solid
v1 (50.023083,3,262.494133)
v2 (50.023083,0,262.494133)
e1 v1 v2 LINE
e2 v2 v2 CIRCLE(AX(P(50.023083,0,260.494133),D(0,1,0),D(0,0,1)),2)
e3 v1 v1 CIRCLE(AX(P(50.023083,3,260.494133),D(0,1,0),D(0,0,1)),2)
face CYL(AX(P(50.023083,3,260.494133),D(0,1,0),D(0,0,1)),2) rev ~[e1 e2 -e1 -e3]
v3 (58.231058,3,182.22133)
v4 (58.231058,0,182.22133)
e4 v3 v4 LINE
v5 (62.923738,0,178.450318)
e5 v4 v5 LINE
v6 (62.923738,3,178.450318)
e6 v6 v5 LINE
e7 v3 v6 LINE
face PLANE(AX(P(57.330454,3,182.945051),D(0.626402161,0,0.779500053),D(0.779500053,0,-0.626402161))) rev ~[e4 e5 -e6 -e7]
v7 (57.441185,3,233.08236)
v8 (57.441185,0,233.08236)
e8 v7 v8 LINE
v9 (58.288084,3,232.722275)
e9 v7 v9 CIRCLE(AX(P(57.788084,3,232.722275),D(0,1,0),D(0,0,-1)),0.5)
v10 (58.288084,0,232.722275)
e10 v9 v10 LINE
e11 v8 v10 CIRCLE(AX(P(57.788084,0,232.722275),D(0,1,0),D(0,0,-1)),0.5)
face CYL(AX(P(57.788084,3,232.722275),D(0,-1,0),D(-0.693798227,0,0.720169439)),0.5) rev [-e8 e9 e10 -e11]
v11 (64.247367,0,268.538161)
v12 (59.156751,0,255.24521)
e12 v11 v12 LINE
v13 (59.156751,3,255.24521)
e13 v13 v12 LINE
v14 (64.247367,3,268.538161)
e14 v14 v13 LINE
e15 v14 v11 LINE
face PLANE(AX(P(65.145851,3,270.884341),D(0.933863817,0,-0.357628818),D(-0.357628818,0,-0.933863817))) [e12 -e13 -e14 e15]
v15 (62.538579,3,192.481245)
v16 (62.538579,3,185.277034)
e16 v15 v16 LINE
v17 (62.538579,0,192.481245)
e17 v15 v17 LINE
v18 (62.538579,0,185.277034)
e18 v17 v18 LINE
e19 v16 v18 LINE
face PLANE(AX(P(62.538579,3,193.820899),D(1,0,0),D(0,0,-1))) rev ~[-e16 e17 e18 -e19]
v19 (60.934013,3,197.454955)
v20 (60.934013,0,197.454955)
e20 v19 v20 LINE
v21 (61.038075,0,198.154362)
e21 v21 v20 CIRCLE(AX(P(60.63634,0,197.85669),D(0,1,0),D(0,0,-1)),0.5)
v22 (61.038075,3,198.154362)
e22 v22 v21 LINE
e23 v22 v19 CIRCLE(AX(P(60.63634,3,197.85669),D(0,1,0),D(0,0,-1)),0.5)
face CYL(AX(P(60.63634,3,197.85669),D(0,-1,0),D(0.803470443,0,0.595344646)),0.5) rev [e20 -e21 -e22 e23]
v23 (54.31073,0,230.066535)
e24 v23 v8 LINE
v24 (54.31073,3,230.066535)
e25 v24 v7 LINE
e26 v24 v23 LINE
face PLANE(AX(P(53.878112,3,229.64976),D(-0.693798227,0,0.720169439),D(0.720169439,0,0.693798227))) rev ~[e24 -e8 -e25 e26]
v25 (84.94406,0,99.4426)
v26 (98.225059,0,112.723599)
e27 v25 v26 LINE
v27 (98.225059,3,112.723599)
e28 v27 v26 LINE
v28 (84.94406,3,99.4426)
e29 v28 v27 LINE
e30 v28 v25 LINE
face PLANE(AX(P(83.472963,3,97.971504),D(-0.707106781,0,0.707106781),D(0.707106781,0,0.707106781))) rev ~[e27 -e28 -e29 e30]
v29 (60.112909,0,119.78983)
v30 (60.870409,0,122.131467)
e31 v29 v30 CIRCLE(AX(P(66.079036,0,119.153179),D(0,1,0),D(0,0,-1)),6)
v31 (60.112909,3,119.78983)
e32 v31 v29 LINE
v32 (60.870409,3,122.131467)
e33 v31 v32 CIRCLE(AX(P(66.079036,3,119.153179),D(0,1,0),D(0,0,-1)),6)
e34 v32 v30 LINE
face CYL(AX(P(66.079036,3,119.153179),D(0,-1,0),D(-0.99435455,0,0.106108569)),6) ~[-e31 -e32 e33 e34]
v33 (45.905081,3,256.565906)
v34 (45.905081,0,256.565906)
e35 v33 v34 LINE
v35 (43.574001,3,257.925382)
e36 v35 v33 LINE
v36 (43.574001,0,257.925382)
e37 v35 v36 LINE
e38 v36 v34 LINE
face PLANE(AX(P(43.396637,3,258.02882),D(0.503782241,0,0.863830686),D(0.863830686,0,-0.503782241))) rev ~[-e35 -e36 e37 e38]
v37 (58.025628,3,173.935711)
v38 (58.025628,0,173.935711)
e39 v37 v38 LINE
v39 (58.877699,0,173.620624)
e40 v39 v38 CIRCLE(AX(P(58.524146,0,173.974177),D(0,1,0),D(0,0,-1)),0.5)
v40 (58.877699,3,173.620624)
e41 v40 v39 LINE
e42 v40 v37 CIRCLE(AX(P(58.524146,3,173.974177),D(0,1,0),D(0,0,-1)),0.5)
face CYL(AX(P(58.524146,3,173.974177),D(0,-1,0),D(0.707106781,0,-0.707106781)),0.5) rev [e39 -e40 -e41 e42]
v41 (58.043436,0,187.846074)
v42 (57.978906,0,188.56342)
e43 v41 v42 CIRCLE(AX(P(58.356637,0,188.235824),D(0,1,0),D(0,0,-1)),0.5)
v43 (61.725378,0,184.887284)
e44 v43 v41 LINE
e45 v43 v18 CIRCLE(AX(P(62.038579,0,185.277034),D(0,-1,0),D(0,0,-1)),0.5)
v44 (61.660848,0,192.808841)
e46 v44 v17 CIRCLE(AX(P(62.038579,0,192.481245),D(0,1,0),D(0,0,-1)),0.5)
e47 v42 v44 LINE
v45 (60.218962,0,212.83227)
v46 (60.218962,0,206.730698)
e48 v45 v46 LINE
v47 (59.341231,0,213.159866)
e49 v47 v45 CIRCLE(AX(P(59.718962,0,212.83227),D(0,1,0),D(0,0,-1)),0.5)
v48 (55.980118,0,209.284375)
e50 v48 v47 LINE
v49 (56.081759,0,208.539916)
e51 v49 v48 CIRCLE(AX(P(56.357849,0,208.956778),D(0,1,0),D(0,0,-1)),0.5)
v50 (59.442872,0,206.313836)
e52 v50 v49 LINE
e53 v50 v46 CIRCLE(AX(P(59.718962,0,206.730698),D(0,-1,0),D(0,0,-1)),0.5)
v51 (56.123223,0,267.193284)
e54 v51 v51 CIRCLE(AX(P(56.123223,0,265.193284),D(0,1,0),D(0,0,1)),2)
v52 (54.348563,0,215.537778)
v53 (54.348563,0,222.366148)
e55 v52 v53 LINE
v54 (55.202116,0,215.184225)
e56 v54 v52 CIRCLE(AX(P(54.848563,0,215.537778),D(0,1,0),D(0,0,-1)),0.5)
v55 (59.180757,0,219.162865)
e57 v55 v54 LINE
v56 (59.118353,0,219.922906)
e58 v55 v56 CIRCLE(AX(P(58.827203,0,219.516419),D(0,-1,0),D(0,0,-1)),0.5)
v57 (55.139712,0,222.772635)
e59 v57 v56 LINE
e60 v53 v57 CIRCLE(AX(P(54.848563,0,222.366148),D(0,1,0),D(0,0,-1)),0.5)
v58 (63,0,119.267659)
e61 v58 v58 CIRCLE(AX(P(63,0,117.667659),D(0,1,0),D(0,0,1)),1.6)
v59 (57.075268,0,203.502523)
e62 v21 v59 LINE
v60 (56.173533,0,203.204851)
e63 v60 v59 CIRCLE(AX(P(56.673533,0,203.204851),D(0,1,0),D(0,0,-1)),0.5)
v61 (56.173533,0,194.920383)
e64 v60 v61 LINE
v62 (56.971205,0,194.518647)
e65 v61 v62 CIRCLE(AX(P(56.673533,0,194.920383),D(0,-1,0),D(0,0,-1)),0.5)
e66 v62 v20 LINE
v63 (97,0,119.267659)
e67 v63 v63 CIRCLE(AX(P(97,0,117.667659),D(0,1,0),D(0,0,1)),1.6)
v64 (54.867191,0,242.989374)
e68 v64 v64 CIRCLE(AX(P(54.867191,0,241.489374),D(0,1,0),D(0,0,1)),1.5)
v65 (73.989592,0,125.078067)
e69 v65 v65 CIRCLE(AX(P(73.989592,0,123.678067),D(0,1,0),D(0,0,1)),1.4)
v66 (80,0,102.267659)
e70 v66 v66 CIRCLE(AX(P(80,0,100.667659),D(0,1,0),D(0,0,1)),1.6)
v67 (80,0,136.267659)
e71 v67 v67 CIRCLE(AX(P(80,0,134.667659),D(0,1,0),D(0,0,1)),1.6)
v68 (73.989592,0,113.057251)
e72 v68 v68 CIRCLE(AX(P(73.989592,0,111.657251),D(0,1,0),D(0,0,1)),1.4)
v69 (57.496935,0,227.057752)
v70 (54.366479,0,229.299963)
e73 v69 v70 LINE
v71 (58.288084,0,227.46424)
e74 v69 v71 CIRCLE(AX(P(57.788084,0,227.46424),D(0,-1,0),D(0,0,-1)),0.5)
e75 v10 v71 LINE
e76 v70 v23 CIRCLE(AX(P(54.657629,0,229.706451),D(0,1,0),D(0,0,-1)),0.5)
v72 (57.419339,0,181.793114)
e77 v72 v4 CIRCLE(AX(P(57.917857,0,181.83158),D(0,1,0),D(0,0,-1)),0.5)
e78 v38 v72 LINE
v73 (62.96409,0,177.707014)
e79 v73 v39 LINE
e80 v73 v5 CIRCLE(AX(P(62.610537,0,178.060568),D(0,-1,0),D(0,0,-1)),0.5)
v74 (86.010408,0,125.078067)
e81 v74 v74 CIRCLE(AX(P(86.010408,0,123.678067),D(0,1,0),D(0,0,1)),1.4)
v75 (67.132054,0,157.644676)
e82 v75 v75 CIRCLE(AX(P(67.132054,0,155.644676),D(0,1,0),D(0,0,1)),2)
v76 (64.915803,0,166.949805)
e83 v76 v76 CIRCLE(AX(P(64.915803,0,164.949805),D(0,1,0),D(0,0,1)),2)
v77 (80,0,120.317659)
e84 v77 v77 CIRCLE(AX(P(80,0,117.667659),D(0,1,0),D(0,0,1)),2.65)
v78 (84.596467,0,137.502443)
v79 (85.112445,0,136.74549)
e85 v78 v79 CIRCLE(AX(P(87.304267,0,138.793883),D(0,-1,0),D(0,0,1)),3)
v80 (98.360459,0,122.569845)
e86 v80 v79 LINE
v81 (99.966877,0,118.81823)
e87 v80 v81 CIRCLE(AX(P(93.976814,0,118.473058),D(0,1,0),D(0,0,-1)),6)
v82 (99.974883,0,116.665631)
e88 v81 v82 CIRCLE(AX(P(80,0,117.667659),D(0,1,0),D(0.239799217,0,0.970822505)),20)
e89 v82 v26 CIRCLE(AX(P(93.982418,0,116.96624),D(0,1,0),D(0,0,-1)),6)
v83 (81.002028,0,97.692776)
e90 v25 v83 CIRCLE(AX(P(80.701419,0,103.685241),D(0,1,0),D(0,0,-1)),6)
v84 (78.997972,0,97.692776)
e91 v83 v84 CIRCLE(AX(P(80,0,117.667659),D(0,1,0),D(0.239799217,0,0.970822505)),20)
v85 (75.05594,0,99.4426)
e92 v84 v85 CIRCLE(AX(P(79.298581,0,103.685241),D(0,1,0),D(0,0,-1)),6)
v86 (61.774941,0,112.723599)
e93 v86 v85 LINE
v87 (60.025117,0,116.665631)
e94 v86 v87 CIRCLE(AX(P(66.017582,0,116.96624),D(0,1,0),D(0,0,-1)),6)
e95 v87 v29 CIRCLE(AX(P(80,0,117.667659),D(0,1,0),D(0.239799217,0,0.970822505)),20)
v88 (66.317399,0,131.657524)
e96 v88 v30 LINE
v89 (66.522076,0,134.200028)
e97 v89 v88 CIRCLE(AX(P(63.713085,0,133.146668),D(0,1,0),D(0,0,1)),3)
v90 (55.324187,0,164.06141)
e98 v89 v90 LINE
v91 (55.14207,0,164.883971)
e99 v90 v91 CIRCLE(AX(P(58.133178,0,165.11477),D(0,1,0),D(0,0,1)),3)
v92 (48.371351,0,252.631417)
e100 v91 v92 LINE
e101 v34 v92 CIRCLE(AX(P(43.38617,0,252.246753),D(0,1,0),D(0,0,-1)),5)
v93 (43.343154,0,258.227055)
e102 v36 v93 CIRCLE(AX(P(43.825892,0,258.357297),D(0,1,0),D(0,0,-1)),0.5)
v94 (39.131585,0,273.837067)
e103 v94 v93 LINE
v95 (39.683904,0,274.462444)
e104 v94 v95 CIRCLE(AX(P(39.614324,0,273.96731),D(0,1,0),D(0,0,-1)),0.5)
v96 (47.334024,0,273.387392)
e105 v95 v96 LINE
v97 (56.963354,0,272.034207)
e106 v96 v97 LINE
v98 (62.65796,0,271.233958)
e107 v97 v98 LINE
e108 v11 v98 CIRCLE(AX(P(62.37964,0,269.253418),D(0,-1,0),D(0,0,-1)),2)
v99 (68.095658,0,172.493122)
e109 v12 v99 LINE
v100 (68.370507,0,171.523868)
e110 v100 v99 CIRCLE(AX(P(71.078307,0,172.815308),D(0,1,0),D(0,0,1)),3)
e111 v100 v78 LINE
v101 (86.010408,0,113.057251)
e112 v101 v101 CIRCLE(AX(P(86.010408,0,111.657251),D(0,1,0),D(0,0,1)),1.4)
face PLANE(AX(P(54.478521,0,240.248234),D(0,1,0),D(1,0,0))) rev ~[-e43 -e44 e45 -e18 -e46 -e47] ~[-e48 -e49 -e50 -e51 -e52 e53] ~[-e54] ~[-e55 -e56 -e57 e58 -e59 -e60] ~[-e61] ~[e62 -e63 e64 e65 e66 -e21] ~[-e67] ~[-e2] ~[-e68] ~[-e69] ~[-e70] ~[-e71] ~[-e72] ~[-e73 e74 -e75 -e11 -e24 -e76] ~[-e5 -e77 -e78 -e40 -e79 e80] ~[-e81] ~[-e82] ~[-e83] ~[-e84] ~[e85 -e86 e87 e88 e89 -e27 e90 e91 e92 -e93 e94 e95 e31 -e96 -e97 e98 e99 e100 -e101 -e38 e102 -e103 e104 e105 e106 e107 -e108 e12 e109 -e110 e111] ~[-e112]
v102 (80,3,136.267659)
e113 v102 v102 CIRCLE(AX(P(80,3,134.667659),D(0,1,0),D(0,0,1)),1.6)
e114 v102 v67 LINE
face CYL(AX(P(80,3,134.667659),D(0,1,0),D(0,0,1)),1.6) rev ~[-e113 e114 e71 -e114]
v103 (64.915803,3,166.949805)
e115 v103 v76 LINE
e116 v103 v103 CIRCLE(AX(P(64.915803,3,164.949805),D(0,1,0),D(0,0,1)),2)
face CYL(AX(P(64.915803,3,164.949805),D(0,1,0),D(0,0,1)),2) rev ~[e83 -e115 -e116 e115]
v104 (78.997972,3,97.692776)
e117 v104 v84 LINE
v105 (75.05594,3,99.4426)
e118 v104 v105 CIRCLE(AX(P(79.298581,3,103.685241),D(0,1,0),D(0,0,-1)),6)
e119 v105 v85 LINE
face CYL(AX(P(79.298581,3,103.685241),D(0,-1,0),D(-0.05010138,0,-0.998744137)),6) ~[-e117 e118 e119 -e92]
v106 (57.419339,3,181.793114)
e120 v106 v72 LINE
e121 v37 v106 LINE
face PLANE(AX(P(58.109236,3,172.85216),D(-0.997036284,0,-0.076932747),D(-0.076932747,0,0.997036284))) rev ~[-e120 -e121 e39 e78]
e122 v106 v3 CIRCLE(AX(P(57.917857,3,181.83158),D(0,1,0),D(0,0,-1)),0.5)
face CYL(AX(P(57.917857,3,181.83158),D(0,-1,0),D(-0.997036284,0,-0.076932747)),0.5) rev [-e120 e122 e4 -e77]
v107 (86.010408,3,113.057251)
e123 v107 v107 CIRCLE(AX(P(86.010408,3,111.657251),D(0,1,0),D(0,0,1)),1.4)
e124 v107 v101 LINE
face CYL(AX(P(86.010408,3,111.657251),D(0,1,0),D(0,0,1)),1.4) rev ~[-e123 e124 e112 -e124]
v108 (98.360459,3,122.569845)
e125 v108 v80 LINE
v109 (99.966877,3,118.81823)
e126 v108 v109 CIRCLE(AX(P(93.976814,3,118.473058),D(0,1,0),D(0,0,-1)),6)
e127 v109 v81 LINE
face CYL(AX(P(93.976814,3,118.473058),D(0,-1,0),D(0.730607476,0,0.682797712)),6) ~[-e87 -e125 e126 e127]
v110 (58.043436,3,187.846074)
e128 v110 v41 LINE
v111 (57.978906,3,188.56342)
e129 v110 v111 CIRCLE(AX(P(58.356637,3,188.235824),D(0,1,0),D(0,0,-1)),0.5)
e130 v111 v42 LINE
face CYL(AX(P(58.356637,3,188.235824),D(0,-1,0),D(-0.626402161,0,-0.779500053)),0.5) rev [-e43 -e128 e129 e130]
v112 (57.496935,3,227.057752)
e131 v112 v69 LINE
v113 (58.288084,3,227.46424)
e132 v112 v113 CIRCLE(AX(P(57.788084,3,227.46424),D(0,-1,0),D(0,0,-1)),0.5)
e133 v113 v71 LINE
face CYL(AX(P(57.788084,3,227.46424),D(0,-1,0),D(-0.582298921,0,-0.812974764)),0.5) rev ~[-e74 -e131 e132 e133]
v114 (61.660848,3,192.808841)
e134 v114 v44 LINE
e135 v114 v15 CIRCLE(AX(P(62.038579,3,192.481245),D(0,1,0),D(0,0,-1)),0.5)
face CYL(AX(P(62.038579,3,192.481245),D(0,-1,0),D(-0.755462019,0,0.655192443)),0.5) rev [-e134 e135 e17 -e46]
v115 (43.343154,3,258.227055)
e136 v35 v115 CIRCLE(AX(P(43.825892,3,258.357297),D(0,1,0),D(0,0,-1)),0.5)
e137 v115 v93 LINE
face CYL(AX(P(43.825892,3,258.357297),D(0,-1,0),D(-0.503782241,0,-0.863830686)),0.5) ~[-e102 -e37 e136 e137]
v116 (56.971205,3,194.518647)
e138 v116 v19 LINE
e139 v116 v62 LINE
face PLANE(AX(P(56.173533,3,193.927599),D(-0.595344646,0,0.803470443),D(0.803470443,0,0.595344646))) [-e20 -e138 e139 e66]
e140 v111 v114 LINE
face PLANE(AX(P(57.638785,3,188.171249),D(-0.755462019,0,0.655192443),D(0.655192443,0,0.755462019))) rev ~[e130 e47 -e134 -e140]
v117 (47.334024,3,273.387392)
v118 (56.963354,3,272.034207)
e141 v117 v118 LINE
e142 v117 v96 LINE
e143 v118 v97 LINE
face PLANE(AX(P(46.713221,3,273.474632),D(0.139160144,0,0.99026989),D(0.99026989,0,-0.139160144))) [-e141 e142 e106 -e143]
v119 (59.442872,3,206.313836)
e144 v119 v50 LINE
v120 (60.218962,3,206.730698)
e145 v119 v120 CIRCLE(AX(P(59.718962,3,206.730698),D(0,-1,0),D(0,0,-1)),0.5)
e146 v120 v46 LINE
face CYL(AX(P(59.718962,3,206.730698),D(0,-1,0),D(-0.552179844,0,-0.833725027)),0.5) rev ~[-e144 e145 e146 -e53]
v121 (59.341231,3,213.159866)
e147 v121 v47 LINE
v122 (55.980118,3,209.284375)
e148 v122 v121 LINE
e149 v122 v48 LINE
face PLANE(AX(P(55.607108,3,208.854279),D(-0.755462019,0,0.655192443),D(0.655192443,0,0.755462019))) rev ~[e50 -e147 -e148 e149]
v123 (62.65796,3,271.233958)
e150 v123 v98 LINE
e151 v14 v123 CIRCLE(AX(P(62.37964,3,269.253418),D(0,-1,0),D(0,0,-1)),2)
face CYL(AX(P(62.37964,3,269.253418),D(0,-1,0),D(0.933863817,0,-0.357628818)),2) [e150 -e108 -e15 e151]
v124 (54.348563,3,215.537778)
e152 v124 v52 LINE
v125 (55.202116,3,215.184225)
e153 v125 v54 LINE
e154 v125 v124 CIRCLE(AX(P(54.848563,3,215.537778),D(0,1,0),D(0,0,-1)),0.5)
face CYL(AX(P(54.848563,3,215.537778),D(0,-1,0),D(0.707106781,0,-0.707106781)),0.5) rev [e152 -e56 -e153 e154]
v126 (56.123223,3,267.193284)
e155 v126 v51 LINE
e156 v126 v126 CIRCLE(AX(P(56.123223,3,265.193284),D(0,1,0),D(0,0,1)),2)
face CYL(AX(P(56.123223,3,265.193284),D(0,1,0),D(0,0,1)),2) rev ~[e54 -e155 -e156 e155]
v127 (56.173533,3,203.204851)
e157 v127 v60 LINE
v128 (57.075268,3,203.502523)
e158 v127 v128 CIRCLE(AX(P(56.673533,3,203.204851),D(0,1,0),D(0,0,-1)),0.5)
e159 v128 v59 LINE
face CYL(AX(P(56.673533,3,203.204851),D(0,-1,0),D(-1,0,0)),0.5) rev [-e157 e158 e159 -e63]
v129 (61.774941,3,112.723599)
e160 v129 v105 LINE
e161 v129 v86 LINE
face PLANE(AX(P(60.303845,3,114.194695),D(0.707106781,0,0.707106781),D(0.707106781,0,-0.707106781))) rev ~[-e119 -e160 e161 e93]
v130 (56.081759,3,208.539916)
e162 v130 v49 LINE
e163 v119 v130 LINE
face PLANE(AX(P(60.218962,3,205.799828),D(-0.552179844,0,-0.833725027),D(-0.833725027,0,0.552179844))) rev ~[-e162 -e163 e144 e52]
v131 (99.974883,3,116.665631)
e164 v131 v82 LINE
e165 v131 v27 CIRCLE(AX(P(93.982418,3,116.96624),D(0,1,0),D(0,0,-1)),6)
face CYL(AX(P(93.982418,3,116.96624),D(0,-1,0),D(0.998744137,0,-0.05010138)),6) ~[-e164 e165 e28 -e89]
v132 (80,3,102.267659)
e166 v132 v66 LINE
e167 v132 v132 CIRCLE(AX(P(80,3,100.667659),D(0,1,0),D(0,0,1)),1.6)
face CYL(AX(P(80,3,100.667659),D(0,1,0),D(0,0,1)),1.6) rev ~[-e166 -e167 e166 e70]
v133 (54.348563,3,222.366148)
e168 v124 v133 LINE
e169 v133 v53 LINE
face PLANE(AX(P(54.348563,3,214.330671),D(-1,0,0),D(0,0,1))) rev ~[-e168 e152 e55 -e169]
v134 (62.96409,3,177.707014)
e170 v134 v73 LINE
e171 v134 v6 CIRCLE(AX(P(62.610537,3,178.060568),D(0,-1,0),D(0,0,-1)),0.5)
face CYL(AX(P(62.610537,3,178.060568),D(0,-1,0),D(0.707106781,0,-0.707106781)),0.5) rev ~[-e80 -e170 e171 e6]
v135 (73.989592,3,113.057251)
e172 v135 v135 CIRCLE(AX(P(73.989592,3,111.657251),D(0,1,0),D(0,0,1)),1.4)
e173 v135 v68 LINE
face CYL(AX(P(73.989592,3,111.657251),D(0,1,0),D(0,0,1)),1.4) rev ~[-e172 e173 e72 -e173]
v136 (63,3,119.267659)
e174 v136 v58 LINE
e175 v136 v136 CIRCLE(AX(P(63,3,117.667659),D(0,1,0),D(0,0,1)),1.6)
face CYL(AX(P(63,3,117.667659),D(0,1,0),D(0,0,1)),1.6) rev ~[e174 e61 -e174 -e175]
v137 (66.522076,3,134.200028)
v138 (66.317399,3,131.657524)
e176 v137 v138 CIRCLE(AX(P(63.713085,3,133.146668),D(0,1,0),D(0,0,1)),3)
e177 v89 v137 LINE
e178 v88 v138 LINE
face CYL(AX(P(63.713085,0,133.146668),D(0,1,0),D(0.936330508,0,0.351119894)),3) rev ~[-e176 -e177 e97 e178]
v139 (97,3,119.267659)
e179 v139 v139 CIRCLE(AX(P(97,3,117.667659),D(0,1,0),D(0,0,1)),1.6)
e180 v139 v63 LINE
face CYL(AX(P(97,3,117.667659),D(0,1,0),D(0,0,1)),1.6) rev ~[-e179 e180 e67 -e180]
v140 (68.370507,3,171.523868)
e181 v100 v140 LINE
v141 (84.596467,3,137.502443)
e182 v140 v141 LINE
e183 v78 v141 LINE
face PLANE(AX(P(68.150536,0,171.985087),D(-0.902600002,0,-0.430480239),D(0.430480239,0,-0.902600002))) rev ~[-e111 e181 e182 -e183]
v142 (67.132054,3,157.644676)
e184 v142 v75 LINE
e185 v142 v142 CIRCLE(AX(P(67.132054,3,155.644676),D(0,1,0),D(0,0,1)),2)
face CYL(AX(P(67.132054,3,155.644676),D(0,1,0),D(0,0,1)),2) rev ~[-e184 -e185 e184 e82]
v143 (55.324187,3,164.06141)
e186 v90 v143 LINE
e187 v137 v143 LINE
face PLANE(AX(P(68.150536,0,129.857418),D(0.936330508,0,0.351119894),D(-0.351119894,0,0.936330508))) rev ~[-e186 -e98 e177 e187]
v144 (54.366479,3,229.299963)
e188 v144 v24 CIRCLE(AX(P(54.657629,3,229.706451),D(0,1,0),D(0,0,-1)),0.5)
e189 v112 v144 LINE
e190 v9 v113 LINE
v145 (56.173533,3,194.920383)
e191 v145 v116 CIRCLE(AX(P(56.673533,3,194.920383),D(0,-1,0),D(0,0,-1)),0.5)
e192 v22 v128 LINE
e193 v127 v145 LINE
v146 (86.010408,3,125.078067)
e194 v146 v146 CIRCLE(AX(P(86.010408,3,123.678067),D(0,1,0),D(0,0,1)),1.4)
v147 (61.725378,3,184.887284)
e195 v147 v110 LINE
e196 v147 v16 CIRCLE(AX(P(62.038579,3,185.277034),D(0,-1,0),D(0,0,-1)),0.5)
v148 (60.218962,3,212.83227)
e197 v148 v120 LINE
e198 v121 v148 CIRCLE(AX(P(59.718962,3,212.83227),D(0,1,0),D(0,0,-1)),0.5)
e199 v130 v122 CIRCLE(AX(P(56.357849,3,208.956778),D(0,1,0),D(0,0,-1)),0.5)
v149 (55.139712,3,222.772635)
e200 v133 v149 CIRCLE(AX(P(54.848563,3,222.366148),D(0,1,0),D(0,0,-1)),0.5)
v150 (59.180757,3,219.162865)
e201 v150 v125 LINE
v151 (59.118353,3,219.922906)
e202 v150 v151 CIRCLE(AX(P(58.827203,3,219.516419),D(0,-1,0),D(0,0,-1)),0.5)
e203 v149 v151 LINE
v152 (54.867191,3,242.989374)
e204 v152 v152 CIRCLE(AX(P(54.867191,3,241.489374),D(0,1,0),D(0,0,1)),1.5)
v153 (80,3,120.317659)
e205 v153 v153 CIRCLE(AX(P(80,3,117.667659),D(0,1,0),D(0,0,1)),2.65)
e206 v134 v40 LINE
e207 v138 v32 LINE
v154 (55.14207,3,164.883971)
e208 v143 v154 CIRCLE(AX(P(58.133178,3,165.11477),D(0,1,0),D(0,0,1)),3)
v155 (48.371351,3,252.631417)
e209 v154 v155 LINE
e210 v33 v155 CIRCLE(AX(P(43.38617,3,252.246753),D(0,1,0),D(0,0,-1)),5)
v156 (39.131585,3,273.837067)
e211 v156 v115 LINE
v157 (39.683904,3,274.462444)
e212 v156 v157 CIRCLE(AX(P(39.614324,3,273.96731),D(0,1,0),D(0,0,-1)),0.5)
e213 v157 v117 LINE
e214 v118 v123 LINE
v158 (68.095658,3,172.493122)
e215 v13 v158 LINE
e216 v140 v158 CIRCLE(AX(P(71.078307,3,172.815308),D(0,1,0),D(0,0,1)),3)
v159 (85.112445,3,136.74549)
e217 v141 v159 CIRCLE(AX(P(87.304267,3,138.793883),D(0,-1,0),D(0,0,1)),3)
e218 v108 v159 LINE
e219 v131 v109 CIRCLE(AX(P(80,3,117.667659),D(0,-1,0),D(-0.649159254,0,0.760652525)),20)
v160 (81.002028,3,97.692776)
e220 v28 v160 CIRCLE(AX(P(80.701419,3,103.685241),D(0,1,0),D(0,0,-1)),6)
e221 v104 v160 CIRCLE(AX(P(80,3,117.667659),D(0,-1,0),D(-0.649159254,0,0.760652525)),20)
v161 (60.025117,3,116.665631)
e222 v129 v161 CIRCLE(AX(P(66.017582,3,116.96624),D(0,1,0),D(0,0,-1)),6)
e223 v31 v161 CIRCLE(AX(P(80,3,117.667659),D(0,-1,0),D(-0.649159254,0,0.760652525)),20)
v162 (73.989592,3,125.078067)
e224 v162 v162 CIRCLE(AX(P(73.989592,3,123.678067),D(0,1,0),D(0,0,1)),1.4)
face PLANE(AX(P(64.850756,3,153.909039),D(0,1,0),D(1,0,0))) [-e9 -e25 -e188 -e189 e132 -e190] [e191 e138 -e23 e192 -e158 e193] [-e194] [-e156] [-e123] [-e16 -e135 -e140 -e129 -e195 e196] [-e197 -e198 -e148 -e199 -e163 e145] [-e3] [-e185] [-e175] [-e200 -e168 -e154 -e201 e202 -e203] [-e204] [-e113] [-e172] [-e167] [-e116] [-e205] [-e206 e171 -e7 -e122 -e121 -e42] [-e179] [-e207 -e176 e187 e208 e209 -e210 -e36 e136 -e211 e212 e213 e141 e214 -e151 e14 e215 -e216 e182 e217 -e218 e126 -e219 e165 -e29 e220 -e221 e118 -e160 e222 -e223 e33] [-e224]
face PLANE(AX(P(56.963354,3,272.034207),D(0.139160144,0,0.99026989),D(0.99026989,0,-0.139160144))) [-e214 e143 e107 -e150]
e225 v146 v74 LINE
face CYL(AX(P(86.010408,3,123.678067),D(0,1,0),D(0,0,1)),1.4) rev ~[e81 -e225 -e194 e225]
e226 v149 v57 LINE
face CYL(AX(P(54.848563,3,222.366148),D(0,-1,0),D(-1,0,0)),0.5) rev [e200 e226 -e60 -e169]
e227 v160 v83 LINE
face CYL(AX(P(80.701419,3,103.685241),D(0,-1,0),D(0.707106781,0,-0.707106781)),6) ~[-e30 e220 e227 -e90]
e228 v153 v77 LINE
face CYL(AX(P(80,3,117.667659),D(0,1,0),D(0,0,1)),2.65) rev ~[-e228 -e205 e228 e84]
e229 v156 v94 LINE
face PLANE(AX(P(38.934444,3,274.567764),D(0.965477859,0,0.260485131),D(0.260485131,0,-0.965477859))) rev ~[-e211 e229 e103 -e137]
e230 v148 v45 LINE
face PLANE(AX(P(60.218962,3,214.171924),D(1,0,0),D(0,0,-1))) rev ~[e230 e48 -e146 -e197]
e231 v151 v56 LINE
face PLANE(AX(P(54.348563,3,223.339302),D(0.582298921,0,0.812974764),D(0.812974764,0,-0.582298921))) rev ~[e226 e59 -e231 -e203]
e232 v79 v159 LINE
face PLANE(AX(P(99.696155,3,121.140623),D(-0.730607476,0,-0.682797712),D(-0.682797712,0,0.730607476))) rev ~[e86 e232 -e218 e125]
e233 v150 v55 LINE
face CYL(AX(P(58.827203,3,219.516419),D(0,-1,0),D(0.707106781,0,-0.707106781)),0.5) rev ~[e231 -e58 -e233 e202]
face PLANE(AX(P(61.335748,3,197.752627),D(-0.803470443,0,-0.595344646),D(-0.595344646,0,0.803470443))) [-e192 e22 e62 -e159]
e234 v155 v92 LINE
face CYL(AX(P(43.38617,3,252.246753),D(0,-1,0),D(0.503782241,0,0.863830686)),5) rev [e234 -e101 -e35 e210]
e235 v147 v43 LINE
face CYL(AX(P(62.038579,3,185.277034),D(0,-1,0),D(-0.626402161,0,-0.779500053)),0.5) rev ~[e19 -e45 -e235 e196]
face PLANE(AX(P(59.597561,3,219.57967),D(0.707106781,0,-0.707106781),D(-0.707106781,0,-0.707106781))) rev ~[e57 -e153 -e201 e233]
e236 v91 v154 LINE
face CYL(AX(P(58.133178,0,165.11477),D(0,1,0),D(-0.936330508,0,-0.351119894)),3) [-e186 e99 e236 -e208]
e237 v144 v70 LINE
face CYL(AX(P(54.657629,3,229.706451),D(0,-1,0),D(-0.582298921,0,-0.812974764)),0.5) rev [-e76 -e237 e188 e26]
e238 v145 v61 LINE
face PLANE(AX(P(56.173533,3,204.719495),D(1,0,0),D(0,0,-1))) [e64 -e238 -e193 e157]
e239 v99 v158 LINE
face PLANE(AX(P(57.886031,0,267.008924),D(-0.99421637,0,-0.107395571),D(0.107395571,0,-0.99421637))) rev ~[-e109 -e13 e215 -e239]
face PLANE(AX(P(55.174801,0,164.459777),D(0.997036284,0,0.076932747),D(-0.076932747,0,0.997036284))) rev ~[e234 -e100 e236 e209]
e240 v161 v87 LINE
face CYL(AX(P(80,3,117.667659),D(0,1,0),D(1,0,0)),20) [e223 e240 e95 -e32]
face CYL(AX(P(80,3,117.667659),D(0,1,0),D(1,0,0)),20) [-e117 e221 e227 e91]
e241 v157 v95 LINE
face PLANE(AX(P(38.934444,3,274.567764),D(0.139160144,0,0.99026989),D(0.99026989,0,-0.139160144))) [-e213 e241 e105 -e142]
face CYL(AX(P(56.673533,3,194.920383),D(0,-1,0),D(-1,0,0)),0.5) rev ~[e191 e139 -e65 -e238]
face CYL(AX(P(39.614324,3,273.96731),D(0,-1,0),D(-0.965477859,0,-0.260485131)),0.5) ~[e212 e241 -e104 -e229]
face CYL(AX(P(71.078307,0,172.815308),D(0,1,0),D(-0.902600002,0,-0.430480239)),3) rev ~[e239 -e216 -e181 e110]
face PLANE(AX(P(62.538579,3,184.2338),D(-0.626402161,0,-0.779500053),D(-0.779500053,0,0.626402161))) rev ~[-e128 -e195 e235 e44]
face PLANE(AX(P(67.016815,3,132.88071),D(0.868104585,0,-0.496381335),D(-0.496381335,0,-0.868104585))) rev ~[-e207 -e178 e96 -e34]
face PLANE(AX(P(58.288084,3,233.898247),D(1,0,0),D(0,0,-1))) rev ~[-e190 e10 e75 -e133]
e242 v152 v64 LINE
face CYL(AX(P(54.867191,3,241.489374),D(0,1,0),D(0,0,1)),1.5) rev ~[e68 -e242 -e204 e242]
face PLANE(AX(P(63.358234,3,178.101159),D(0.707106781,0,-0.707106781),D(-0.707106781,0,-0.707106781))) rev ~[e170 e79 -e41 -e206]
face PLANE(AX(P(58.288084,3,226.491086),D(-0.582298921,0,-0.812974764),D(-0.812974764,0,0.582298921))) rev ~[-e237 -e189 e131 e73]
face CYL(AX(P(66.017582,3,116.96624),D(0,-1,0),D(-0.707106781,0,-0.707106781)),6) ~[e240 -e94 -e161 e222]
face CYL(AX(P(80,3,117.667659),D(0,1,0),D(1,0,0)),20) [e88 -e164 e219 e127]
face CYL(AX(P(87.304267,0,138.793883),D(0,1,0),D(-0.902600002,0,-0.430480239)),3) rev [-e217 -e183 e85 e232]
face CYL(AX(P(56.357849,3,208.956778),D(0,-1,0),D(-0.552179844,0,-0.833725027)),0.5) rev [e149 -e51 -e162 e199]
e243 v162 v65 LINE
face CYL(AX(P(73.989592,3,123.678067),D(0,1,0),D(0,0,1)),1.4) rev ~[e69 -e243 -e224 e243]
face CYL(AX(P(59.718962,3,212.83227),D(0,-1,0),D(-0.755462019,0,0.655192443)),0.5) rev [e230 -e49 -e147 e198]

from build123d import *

# Parameters (mm, degrees)
SKETCH_1_R            = 17
EXTRUDE_1_DEPTH       = 3
SKETCH_2_R            = 20
EXTRUDE_2_DEPTH       = 3
CUT_EXTRUDE_2_DEPTH   = 10
FILLET_1_R            = 3
FILLET_2_R            = 6
SKETCH_5_R            = 2.25
CUT_EXTRUDE_6_DEPTH   = 10
SKETCH_6_R            = 14.05
CUT_EXTRUDE_7_DEPTH   = 10
SKETCH_4_R            = 1.5
CUT_EXTRUDE_8_DEPTH   = 10
EXTRUDE_3_DEPTH       = 3
EXTRUDE_4_DEPTH       = 3
CUT_EXTRUDE_19_DEPTH  = 10
FILLET_3_R            = 0.5
CUT_EXTRUDE_20_DEPTH  = 10
SKETCH_39_R           = 1.65
CUT_EXTRUDE_32_DEPTH  = 10
SKETCH_40_R           = 1.65
SKETCH_40_R_2         = 1.6
EXTRUDE_5_DEPTH       = 3
SKETCH_108_R          = 2.1
CUT_EXTRUDE_99_DEPTH  = 313.834538804
SKETCH_130_R          = 14.05
SKETCH_130_R_2        = 2.65
EXTRUDE_7_DEPTH       = 3
SKETCH_131_R          = 1.5
CUT_EXTRUDE_122_DEPTH = 10
EXTRUDE_9_DEPTH       = 3
SKETCH_133_R          = 2.6
CUT_EXTRUDE_125_DEPTH = 292.199887495
SKETCH_134_R          = 1.5
SKETCH_134_R_2        = 1.4
EXTRUDE_10_DEPTH      = 3
EXTRUDE_11_DEPTH      = 3
SKETCH_137_W          = 2
SKETCH_137_H          = 3
CUT_EXTRUDE_126_DEPTH = 3
SKETCH_138_R          = 2.6
EXTRUDE_12_DEPTH      = 3
SKETCH_139_R          = 2.5
CUT_EXTRUDE_127_DEPTH = 5
SKETCH_140_R          = 2.5
EXTRUDE_13_DEPTH      = 3
SKETCH_141_R          = 2.5
CUT_EXTRUDE_128_DEPTH = 5
FILLET_4_R            = 0.5
SKETCH_143_W          = 2
SKETCH_143_H          = 3
EXTRUDE_14_DEPTH      = 4
SKETCH_144_R          = 2
CUT_EXTRUDE_129_DEPTH = 4
SKETCH_145_R          = 2.1
EXTRUDE_15_DEPTH      = 3
FILLET_6_R            = 2
EXTRUDE_16_DEPTH      = 3
FILLET_7_R            = 5
FILLET_8_R            = 0.5
SKETCH_147_R          = 2.1
EXTRUDE_17_DEPTH      = 3
SKETCH_148_R          = 2
CUT_EXTRUDE_130_DEPTH = 6
EXTRUDE_18_DEPTH      = 3
SKETCH_150_R          = 2
CUT_EXTRUDE_131_DEPTH = 10
EXTRUDE_START         = -3
SKETCH_151_R          = 2.5
EXTRUDE_19_DEPTH      = 3
EXTRUDE_20_DEPTH      = 3
SKETCH_159_R          = 1.5
CUT_EXTRUDE_138_DEPTH = 329.706278544


with BuildPart() as part:
    # 草图1 → 凸台-拉伸1 (new body)
    with BuildSketch(Plane(origin=(0, 0, 0), x_dir=(1, 0, 0), z_dir=(0, 1, 0))):
        with BuildLine():
            Line((55.174801085, -164.459776844), (68.150536307, -171.985087167))
            Line((68.150536307, -171.985087167), (86.580547938, -133.34236439))
            ThreePointArc((86.580547938, -133.34236439), (76.841427209, -134.371653113), (68.150536307, -129.857417501))
            Line((68.150536307, -129.857417501), (55.174801085, -164.459776844))
        make_face()
        Polygon((68.150536307, -171.985087167), (55.174801085, -164.459776844), (47.261962171, -267.008923523), (57.886031057, -267.008923523), align=None)
        with Locations((79.999999942, -117.667659031)):
            Circle(SKETCH_1_R)
    extrude(amount=EXTRUDE_1_DEPTH)

    # 草图2 → 凸台-拉伸2 (add)
    with BuildSketch(Plane(origin=(0, 3, 0), x_dir=(1, 0, 0), z_dir=(0, 1, 0))):
        with Locations((79.999999942, -117.667659031)):
            Circle(SKETCH_2_R)
    extrude(amount=-EXTRUDE_2_DEPTH)

    # 草图3 → 切除-拉伸2 (cut)
    with BuildSketch(Plane(origin=(0, 3, 0), x_dir=(1, 0, 0), z_dir=(0, 1, 0))):
        with BuildLine():
            ThreePointArc((84.795984272, -137.084109127), (94.612149468, -131.323613273), (99.696155003, -121.140622585))
            Line((99.696155003, -121.140622585), (84.795984272, -137.084109127))
        make_face()
        with BuildLine():
            Line((83.472963496, -97.971503971), (99.696155003, -114.194695478))
            ThreePointArc((99.696155003, -114.194695478), (94.142135566, -103.525523408), (83.472963496, -97.971503971))
        make_face()
        with BuildLine():
            Line((60.303844882, -114.194695478), (76.527036389, -97.971503971))
            ThreePointArc((76.527036389, -97.971503971), (65.857864319, -103.525523408), (60.303844882, -114.194695478))
        make_face()
        with BuildLine():
            Line((67.016814864, -132.880709522), (60.303844882, -121.140622585))
            ThreePointArc((60.303844882, -121.140622585), (62.637908239, -127.595285722), (67.016814864, -132.880709522))
        make_face()
    extrude(amount=-CUT_EXTRUDE_2_DEPTH, mode=Mode.SUBTRACT)

    # 圆角1
    fillet_1_edges = [part.edges().sort_by_distance(p)[0] for p in [
        (68.150536307, 1.5, 171.985087167),
        (55.174801085, 1.5, 164.459776844),
        (67.016814864, 1.5, 132.880709522),
        (84.795984272, 1.5, 137.084109127),
    ]]
    fillet(fillet_1_edges, radius=FILLET_1_R)

    # 圆角2
    fillet_2_edges = [part.edges().sort_by_distance(p)[0] for p in [
        (99.696155003, 1.5, 121.140622585),
        (83.472963496, 1.5, 97.971503971),
        (99.696155003, 1.5, 114.194695478),
        (76.527036389, 1.5, 97.971503971),
        (60.303844882, 1.5, 114.194695478),
        (60.303844882, 1.5, 121.140622585),
    ]]
    fillet(fillet_2_edges, radius=FILLET_2_R)

    # 草图5 → 切除-拉伸6 (cut)
    with BuildSketch(Plane(origin=(0, 3, 0), x_dir=(1, 0, 0), z_dir=(0, 1, 0))):
        with Locations(Location((79.999999942, -117.667659031, 0), (0, 0, 270))):
            Circle(SKETCH_5_R)
    extrude(amount=-CUT_EXTRUDE_6_DEPTH, mode=Mode.SUBTRACT)

    # 草图6 → 切除-拉伸7 (cut)
    with BuildSketch(Plane(origin=(0, 3, 0), x_dir=(1, 0, 0), z_dir=(0, 1, 0))):
        with Locations(Location((79.999999942, -117.667659031, 0), (0, 0, 270))):
            Circle(SKETCH_6_R)
    extrude(amount=-CUT_EXTRUDE_7_DEPTH, mode=Mode.SUBTRACT)

    # 草图4 → 切除-拉伸8 (cut)
    with BuildSketch(Plane(origin=(0, 3, 0), x_dir=(1, 0, 0), z_dir=(0, 1, 0))):
        with Locations(Location((79.999999942, -100.667659031, 0), (0, 0, 270))):
            Circle(SKETCH_4_R)
        with Locations(Location((96.999999942, -117.667659031, 0), (0, 0, 270))):
            Circle(SKETCH_4_R)
        with Locations(Location((79.999999942, -134.667659031, 0), (0, 0, 270))):
            Circle(SKETCH_4_R)
        with Locations(Location((62.999999942, -117.667659031, 0), (0, 0, 270))):
            Circle(SKETCH_4_R)
    extrude(amount=-CUT_EXTRUDE_8_DEPTH, mode=Mode.SUBTRACT)

    # 草图14 → 凸台-拉伸3 (add)
    with BuildSketch(Plane(origin=(0, 3, 0), x_dir=(1, 0, 0), z_dir=(0, 1, 0))):
        Polygon((57.886031057, -267.008923523), (47.261962171, -267.008923523), (46.840068855, -271.980005375), (57.349053203, -271.980005375), align=None)
    extrude(amount=-EXTRUDE_3_DEPTH)

    # 草图23 → 凸台-拉伸4 (add)
    with BuildSketch(Plane(origin=(0, 3, 0), x_dir=(1, 0, 0), z_dir=(0, 1, 0))):
        Polygon((46.840068855, -271.980005375), (46.713220593, -273.474632258), (57.349053203, -271.980005375), align=None)
    extrude(amount=-EXTRUDE_4_DEPTH)

    # 草图25 → 切除-拉伸19 (cut)
    with BuildSketch(Plane(origin=(0, 3, 0), x_dir=(1, 0, 0), z_dir=(0, 1, 0))):
        Polygon((63.358234199, -178.101158645), (58.109236028, -172.852160473), (57.330454141, -182.945051137), align=None)
        Polygon((62.538578946, -184.233800284), (57.63878544, -188.17124869), (62.538578946, -193.820898548), align=None)
        Polygon((56.173532683, -193.927598865), (61.335747795, -197.752627098), (56.173532683, -204.719494594), align=None)
        Polygon((59.597561096, -219.579669638), (54.348562925, -214.330671467), (54.348562925, -223.339301679), align=None)
        Polygon((58.288084355, -226.491086055), (53.878112336, -229.649759683), (58.288084355, -233.898247055), align=None)
        Polygon((53.007833014, -235.846965216), (57.603103282, -239.251906337), (53.007833014, -245.453631443), align=None)
        Polygon((60.218961992, -205.799827801), (55.607108021, -208.854279476), (60.218961992, -214.171924004), align=None)
    extrude(amount=-CUT_EXTRUDE_19_DEPTH, mode=Mode.SUBTRACT)

    # 圆角3
    fillet_3_edges = [part.edges().sort_by_distance(p)[0] for p in [
        (63.358234199, 1.5, 178.101158645),
        (57.330454141, 1.5, 182.945051137),
        (58.109236028, 1.5, 172.852160473),
        (60.218961992, 1.5, 205.799827801),
        (60.218961992, 1.5, 214.171924004),
        (55.607108021, 1.5, 208.854279476),
        (53.007833014, 1.5, 245.453631443),
        (53.007833014, 1.5, 235.846965216),
        (57.603103282, 1.5, 239.251906337),
        (58.288084355, 1.5, 226.491086055),
        (58.288084355, 1.5, 233.898247055),
        (53.878112336, 1.5, 229.649759683),
        (59.597561096, 1.5, 219.579669638),
        (54.348562925, 1.5, 223.339301679),
        (54.348562925, 1.5, 214.330671467),
        (56.173532683, 1.5, 204.719494594),
        (56.173532683, 1.5, 193.927598865),
        (61.335747795, 1.5, 197.752627098),
        (62.538578946, 1.5, 184.233800284),
        (62.538578946, 1.5, 193.820898548),
        (57.63878544, 1.5, 188.17124869),
    ]]
    fillet(fillet_3_edges, radius=FILLET_3_R)

    # 草图26 → 切除-拉伸20 (cut)
    with BuildSketch(Plane(origin=(0, 3, 0), x_dir=(1, 0, 0), z_dir=(0, 1, 0))):
        Polygon((79.122764012, -141.279254323), (66.169916498, -165.580171781), (64.404980214, -164.639427441), (76.175052505, -142.557521904), align=None)
        Polygon((70.29001636, -138.528207063), (65.287448356, -156.295387281), (63.362303252, -155.753339011), (69.263859074, -134.79330293), align=None)
    extrude(amount=-CUT_EXTRUDE_20_DEPTH, mode=Mode.SUBTRACT)

    # 草图39 → 切除-拉伸32 (cut)
    with BuildSketch(Plane(origin=(0, 3, 0), x_dir=(1, 0, 0), z_dir=(0, 1, 0))):
        with Locations(Location((62.999999942, -117.667659031, 0), (0, 0, 270))):
            Circle(SKETCH_39_R)
        with Locations(Location((79.999999942, -100.667659031, 0), (0, 0, 270))):
            Circle(SKETCH_39_R)
        with Locations(Location((96.999999942, -117.667659031, 0), (0, 0, 270))):
            Circle(SKETCH_39_R)
        with Locations(Location((79.999999942, -134.667659031, 0), (0, 0, 270))):
            Circle(SKETCH_39_R)
    extrude(amount=-CUT_EXTRUDE_32_DEPTH, mode=Mode.SUBTRACT)

    # 草图40 → 凸台-拉伸5 (add)
    # profile 1 of 4: a face of its own
    with BuildSketch(Plane(origin=(0, 3, 0), x_dir=(1, 0, 0), z_dir=(0, 1, 0))):
        with Locations((62.999999942, -117.667659031)):
            Circle(SKETCH_40_R)
        with Locations(Location((62.999999942, -117.667659031, 0), (0, 0, 270))):
            Circle(SKETCH_40_R_2, mode=Mode.SUBTRACT)
    # profile 2 of 4: a face of its own
    with BuildSketch(Plane(origin=(0, 3, 0), x_dir=(1, 0, 0), z_dir=(0, 1, 0))):
        with Locations((79.999999942, -134.667659031)):
            Circle(SKETCH_40_R)
        with Locations(Location((79.999999942, -134.667659031, 0), (0, 0, 270))):
            Circle(SKETCH_40_R_2, mode=Mode.SUBTRACT)
    # profile 3 of 4: a face of its own
    with BuildSketch(Plane(origin=(0, 3, 0), x_dir=(1, 0, 0), z_dir=(0, 1, 0))):
        with Locations((96.999999942, -117.667659031)):
            Circle(SKETCH_40_R)
        with Locations(Location((96.999999942, -117.667659031, 0), (0, 0, 270))):
            Circle(SKETCH_40_R_2, mode=Mode.SUBTRACT)
    # profile 4 of 4: a face of its own
    with BuildSketch(Plane(origin=(0, 3, 0), x_dir=(1, 0, 0), z_dir=(0, 1, 0))):
        with Locations((79.999999942, -100.667659031)):
            Circle(SKETCH_40_R)
        with Locations(Location((79.999999942, -100.667659031, 0), (0, 0, 270))):
            Circle(SKETCH_40_R_2, mode=Mode.SUBTRACT)
    extrude(amount=-EXTRUDE_5_DEPTH)

    # 草图108 → 切除-拉伸99 (cut, through all)
    with BuildSketch(Plane(origin=(204.073008221, 6, 3.164910075), x_dir=(-0.9080868734254056, 0, 0.41878184095358223), z_dir=(0, 1, 0))):
        with Locations(Location((246.232295139, 173.568228153, 0), (0, 0, 335.242296119))):
            Circle(SKETCH_108_R)
    extrude(amount=-CUT_EXTRUDE_99_DEPTH, mode=Mode.SUBTRACT)

    # 草图130 → 凸台-拉伸7 (add)
    with BuildSketch(Plane(origin=(0, 3, 0), x_dir=(1, 0, 0), z_dir=(0, 1, 0))):
        with Locations((79.999999942, -117.667659031)):
            Circle(SKETCH_130_R)
        with Locations(Location((79.999999942, -117.667659031, 0), (0, 0, 270))):
            Circle(SKETCH_130_R_2, mode=Mode.SUBTRACT)
    extrude(amount=-EXTRUDE_7_DEPTH)

    # 草图131 → 切除-拉伸122 (cut)
    with BuildSketch(Plane(origin=(0, 3, 0), x_dir=(1, 0, 0), z_dir=(0, 1, 0))):
        with Locations(Location((73.989592302, -111.657251391, 0), (0, 0, 270))):
            Circle(SKETCH_131_R)
        with Locations(Location((73.989592302, -123.678066672, 0), (0, 0, 270))):
            Circle(SKETCH_131_R)
        with Locations(Location((86.010407582, -123.678066672, 0), (0, 0, 270))):
            Circle(SKETCH_131_R)
        with Locations(Location((86.010407582, -111.657251391, 0), (0, 0, 270))):
            Circle(SKETCH_131_R)
    extrude(amount=-CUT_EXTRUDE_122_DEPTH, mode=Mode.SUBTRACT)

    # 草图132 → 凸台-拉伸9 (add)
    with BuildSketch(Plane(origin=(0, 3, 0), x_dir=(1, 0, 0), z_dir=(0, 1, 0))):
        Polygon((76.175052505, -142.557521904), (70.29001636, -153.598474673), (72.646340255, -153.429713052), (79.122764012, -141.279254323), align=None)
        Polygon((69.263859074, -134.79330293), (66.313081163, -145.27332097), (67.788732358, -147.411797172), (70.29001636, -138.528207063), align=None)
    extrude(amount=-EXTRUDE_9_DEPTH)

    # 草图133 → 切除-拉伸125 (cut, through all)
    with BuildSketch(Plane(origin=(0, 3, 0), x_dir=(1, 0, 0), z_dir=(0, 1, 0))):
        with Locations(Location((70.832507853, -139.499437292, 0), (0, 0, 270))):
            Circle(SKETCH_133_R)
    extrude(amount=-CUT_EXTRUDE_125_DEPTH, mode=Mode.SUBTRACT)

    # 草图134 → 凸台-拉伸10 (add)
    # profile 1 of 4: a face of its own
    with BuildSketch(Plane(origin=(0, 3, 0), x_dir=(1, 0, 0), z_dir=(0, 1, 0))):
        with Locations((73.989592302, -111.657251391)):
            Circle(SKETCH_134_R)
        with Locations(Location((73.989592302, -111.657251391, 0), (0, 0, 270))):
            Circle(SKETCH_134_R_2, mode=Mode.SUBTRACT)
    # profile 2 of 4: a face of its own
    with BuildSketch(Plane(origin=(0, 3, 0), x_dir=(1, 0, 0), z_dir=(0, 1, 0))):
        with Locations((86.010407582, -111.657251391)):
            Circle(SKETCH_134_R)
        with Locations(Location((86.010407582, -111.657251391, 0), (0, 0, 270))):
            Circle(SKETCH_134_R_2, mode=Mode.SUBTRACT)
    # profile 3 of 4: a face of its own
    with BuildSketch(Plane(origin=(0, 3, 0), x_dir=(1, 0, 0), z_dir=(0, 1, 0))):
        with Locations((73.989592302, -123.678066672)):
            Circle(SKETCH_134_R)
        with Locations(Location((73.989592302, -123.678066672, 0), (0, 0, 270))):
            Circle(SKETCH_134_R_2, mode=Mode.SUBTRACT)
    # profile 4 of 4: a face of its own
    with BuildSketch(Plane(origin=(0, 3, 0), x_dir=(1, 0, 0), z_dir=(0, 1, 0))):
        with Locations((86.010407582, -123.678066672)):
            Circle(SKETCH_134_R)
        with Locations(Location((86.010407582, -123.678066672, 0), (0, 0, 270))):
            Circle(SKETCH_134_R_2, mode=Mode.SUBTRACT)
    extrude(amount=-EXTRUDE_10_DEPTH)

    # 草图136 → 凸台-拉伸11 (add)
    with BuildSketch(Plane(origin=(0, 3, 0), x_dir=(1, 0, 0), z_dir=(0, 1, 0))):
        Polygon((67.788732358, -147.411797172), (66.313081163, -145.27332097), (65.500008758, -148.161038627), (66.975659953, -150.299514829), align=None)
    extrude(amount=-EXTRUDE_11_DEPTH)

    # 草图137 → 切除-拉伸126 (cut)
    with BuildSketch(Plane(origin=(-35.978772546, 0, 127.782637912), x_dir=(-0.9625725521853279, 0, -0.2710241350496748), z_dir=(0.2710241350496748, 0, -0.9625725521853279))):
        with Locations((-104.20372794, 1.5)):
            Rectangle(SKETCH_137_W, SKETCH_137_H)
    extrude(amount=-CUT_EXTRUDE_126_DEPTH, mode=Mode.SUBTRACT)

    # 草图138 → 凸台-拉伸12 (add)
    with BuildSketch(Plane(origin=(0, 3, 0), x_dir=(1, 0, 0), z_dir=(0, 1, 0))):
        with Locations((70.832507853, -139.499437292)):
            Circle(SKETCH_138_R)
    extrude(amount=-EXTRUDE_12_DEPTH)

    # 草图139 → 切除-拉伸127 (cut)
    with BuildSketch(Plane(origin=(0, 3, 0), x_dir=(1, 0, 0), z_dir=(0, 1, 0))):
        with Locations(Location((68.467751412, -144.094745685, 0), (0, 0, 270))):
            Circle(SKETCH_139_R)
    extrude(amount=-CUT_EXTRUDE_127_DEPTH, mode=Mode.SUBTRACT)

    # 草图140 → 凸台-拉伸13 (add)
    with BuildSketch(Plane(origin=(0, 3, 0), x_dir=(1, 0, 0), z_dir=(0, 1, 0))):
        with Locations((68.467751412, -144.094745685)):
            Circle(SKETCH_140_R)
    extrude(amount=-EXTRUDE_13_DEPTH)

    # 草图141 → 切除-拉伸128 (cut)
    with BuildSketch(Plane.XZ):
        with Locations(Location((71.254299744, 146.127686011, 0), (0, 0, 270))):
            Circle(SKETCH_141_R)
    extrude(amount=-CUT_EXTRUDE_128_DEPTH, mode=Mode.SUBTRACT)

    # 圆角4
    fillet_4_edges = [part.edges().sort_by_distance(p)[0] for p in [
        (57.349053203, 1.5, 271.980005375),
        (46.713220593, 1.5, 273.474632258),
    ]]
    fillet(fillet_4_edges, radius=FILLET_4_R)

    # 草图143 → 凸台-拉伸14 (add)
    with BuildSketch(Plane(origin=(-54.090325082, 0, 101.479193958), x_dir=(-0.8824681420079096, 0, -0.47037217003252635), z_dir=(0.47037217003252635, 0, -0.8824681420079096))):
        with Locations((-135.277147984, 1.5)):
            Rectangle(SKETCH_143_W, SKETCH_143_H)
    extrude(amount=EXTRUDE_14_DEPTH)

    # 草图144 → 切除-拉伸129 (cut)
    with BuildSketch(Plane(origin=(0, 3, 0), x_dir=(1, 0, 0), z_dir=(0, 1, 0))):
        with Locations(Location((64.915803208, -164.949805192, 0), (0, 0, 270))):
            Circle(SKETCH_144_R)
    extrude(amount=-CUT_EXTRUDE_129_DEPTH, mode=Mode.SUBTRACT)

    # 草图145 → 凸台-拉伸15 (add)
    with BuildSketch(Plane(origin=(0, 3, 0), x_dir=(1, 0, 0), z_dir=(0, 1, 0))):
        Polygon((47.334024019, -273.38739231), (56.963354433, -272.034206656), (65.145851399, -270.884340879), (59.156751189, -255.245209741), (48.169667161, -255.245209741), (38.934443502, -274.567764294), align=None)
        with Locations(Location((53.159915309, -263.897553566, 0), (0, 0, 180))):
            Circle(SKETCH_145_R, mode=Mode.SUBTRACT)
    extrude(amount=-EXTRUDE_15_DEPTH)

    # 圆角6
    fillet_6_edges = [part.edges().sort_by_distance(p)[0] for p in [
        (65.145851399, 1.5, 270.884340879),
    ]]
    fillet(fillet_6_edges, radius=FILLET_6_R)

    # 草图146 → 凸台-拉伸16 (add)
    with BuildSketch(Plane(origin=(0, 3, 0), x_dir=(1, 0, 0), z_dir=(0, 1, 0))):
        Polygon((38.934443502, -274.567764294), (43.396637102, -258.028819792), (48.169667161, -255.245209741), align=None)
    extrude(amount=-EXTRUDE_16_DEPTH)

    # 圆角7
    fillet_7_edges = [part.edges().sort_by_distance(p)[0] for p in [
        (48.169667161, 1.5, 255.245209741),
    ]]
    fillet(fillet_7_edges, radius=FILLET_7_R)

    # 圆角8
    fillet_8_edges = [part.edges().sort_by_distance(p)[0] for p in [
        (38.934443502, 1.5, 274.567764294),
        (43.396637102, 1.5, 258.028819792),
    ]]
    fillet(fillet_8_edges, radius=FILLET_8_R)

    # 草图147 → 凸台-拉伸17 (add)
    with BuildSketch(Plane(origin=(0, 3, 0), x_dir=(1, 0, 0), z_dir=(0, 1, 0))):
        with Locations((53.159915309, -263.897553566)):
            Circle(SKETCH_147_R)
    extrude(amount=-EXTRUDE_17_DEPTH)

    # 草图148 → 切除-拉伸130 (cut)
    with BuildSketch(Plane(origin=(0, 3, 0), x_dir=(1, 0, 0), z_dir=(0, 1, 0))):
        with Locations(Location((56.123223174, -265.193283643, 0), (0, 0, 270))):
            Circle(SKETCH_148_R)
        with Locations(Location((50.02308315, -260.494132715, 0), (0, 0, 270))):
            Circle(SKETCH_148_R)
    extrude(amount=-CUT_EXTRUDE_130_DEPTH, mode=Mode.SUBTRACT)

    # 草图149 → 凸台-拉伸18 (add)
    with BuildSketch(Plane(origin=(0, 3, 0), x_dir=(1, 0, 0), z_dir=(0, 1, 0))):
        Polygon((64.474375951, -159.183104937), (66.975659953, -150.299514829), (65.500008758, -148.161038627), (62.549230847, -158.641056667), align=None)
        Polygon((70.29001636, -153.598474673), (72.646340255, -153.429713052), (68.051405178, -162.050299213), (66.286468894, -161.109554873), align=None)
    extrude(amount=-EXTRUDE_18_DEPTH)

    # 草图150 → 切除-拉伸131 (cut)
    with BuildSketch(Plane(origin=(0, 3, 0), x_dir=(1, 0, 0), z_dir=(0, 1, 0))):
        with Locations(Location((67.132054255, -155.64467573, 0), (0, 0, 270))):
            Circle(SKETCH_150_R)
    extrude(amount=-CUT_EXTRUDE_131_DEPTH, mode=Mode.SUBTRACT)

    # 草图151 → 凸台-拉伸19 (add)
    with BuildSketch(Plane(origin=(0, 3, 0), x_dir=(1, 0, 0), z_dir=(0, 1, 0)).offset(EXTRUDE_START)):
        with Locations((71.254299744, -146.127686011)):
            Circle(SKETCH_151_R)
    extrude(amount=EXTRUDE_19_DEPTH)

    # 草图158 → 凸台-拉伸20 (add)
    with BuildSketch(Plane(origin=(0, 3, 0), x_dir=(1, 0, 0), z_dir=(0, 1, 0)).offset(EXTRUDE_START)):
        with BuildLine():
            Line((53.909568235, -244.236659723), (57.305430959, -239.653641559))
            ThreePointArc((57.305430959, -239.653641559), (57.398251555, -239.282385655), (57.20136806, -238.954234014))
            Line((57.20136806, -238.954234014), (53.805505337, -236.43801365))
            ThreePointArc((53.805505337, -236.43801365), (53.282928769, -236.393186355), (53.007833014, -236.839748871))
            Line((53.007833014, -236.839748871), (53.007833014, -243.9389874))
            ThreePointArc((53.007833014, -243.9389874), (53.351096947, -244.4137861), (53.909568235, -244.236659723))
        make_face()
    extrude(amount=EXTRUDE_20_DEPTH)

    # 草图159 → 切除-拉伸138 (cut, through all)
    with BuildSketch(Plane(origin=(158.718859572, 3, -31.692081328), x_dir=(-0.716134735249356, 0, 0.6979620627006419), z_dir=(0, 1, 0))):
        with Locations(Location((265.042079437, 123.15020419, 0), (0, 0, 45.736272176))):
            Circle(SKETCH_159_R)
    extrude(amount=-CUT_EXTRUDE_138_DEPTH, mode=Mode.SUBTRACT)


solid = part.part
